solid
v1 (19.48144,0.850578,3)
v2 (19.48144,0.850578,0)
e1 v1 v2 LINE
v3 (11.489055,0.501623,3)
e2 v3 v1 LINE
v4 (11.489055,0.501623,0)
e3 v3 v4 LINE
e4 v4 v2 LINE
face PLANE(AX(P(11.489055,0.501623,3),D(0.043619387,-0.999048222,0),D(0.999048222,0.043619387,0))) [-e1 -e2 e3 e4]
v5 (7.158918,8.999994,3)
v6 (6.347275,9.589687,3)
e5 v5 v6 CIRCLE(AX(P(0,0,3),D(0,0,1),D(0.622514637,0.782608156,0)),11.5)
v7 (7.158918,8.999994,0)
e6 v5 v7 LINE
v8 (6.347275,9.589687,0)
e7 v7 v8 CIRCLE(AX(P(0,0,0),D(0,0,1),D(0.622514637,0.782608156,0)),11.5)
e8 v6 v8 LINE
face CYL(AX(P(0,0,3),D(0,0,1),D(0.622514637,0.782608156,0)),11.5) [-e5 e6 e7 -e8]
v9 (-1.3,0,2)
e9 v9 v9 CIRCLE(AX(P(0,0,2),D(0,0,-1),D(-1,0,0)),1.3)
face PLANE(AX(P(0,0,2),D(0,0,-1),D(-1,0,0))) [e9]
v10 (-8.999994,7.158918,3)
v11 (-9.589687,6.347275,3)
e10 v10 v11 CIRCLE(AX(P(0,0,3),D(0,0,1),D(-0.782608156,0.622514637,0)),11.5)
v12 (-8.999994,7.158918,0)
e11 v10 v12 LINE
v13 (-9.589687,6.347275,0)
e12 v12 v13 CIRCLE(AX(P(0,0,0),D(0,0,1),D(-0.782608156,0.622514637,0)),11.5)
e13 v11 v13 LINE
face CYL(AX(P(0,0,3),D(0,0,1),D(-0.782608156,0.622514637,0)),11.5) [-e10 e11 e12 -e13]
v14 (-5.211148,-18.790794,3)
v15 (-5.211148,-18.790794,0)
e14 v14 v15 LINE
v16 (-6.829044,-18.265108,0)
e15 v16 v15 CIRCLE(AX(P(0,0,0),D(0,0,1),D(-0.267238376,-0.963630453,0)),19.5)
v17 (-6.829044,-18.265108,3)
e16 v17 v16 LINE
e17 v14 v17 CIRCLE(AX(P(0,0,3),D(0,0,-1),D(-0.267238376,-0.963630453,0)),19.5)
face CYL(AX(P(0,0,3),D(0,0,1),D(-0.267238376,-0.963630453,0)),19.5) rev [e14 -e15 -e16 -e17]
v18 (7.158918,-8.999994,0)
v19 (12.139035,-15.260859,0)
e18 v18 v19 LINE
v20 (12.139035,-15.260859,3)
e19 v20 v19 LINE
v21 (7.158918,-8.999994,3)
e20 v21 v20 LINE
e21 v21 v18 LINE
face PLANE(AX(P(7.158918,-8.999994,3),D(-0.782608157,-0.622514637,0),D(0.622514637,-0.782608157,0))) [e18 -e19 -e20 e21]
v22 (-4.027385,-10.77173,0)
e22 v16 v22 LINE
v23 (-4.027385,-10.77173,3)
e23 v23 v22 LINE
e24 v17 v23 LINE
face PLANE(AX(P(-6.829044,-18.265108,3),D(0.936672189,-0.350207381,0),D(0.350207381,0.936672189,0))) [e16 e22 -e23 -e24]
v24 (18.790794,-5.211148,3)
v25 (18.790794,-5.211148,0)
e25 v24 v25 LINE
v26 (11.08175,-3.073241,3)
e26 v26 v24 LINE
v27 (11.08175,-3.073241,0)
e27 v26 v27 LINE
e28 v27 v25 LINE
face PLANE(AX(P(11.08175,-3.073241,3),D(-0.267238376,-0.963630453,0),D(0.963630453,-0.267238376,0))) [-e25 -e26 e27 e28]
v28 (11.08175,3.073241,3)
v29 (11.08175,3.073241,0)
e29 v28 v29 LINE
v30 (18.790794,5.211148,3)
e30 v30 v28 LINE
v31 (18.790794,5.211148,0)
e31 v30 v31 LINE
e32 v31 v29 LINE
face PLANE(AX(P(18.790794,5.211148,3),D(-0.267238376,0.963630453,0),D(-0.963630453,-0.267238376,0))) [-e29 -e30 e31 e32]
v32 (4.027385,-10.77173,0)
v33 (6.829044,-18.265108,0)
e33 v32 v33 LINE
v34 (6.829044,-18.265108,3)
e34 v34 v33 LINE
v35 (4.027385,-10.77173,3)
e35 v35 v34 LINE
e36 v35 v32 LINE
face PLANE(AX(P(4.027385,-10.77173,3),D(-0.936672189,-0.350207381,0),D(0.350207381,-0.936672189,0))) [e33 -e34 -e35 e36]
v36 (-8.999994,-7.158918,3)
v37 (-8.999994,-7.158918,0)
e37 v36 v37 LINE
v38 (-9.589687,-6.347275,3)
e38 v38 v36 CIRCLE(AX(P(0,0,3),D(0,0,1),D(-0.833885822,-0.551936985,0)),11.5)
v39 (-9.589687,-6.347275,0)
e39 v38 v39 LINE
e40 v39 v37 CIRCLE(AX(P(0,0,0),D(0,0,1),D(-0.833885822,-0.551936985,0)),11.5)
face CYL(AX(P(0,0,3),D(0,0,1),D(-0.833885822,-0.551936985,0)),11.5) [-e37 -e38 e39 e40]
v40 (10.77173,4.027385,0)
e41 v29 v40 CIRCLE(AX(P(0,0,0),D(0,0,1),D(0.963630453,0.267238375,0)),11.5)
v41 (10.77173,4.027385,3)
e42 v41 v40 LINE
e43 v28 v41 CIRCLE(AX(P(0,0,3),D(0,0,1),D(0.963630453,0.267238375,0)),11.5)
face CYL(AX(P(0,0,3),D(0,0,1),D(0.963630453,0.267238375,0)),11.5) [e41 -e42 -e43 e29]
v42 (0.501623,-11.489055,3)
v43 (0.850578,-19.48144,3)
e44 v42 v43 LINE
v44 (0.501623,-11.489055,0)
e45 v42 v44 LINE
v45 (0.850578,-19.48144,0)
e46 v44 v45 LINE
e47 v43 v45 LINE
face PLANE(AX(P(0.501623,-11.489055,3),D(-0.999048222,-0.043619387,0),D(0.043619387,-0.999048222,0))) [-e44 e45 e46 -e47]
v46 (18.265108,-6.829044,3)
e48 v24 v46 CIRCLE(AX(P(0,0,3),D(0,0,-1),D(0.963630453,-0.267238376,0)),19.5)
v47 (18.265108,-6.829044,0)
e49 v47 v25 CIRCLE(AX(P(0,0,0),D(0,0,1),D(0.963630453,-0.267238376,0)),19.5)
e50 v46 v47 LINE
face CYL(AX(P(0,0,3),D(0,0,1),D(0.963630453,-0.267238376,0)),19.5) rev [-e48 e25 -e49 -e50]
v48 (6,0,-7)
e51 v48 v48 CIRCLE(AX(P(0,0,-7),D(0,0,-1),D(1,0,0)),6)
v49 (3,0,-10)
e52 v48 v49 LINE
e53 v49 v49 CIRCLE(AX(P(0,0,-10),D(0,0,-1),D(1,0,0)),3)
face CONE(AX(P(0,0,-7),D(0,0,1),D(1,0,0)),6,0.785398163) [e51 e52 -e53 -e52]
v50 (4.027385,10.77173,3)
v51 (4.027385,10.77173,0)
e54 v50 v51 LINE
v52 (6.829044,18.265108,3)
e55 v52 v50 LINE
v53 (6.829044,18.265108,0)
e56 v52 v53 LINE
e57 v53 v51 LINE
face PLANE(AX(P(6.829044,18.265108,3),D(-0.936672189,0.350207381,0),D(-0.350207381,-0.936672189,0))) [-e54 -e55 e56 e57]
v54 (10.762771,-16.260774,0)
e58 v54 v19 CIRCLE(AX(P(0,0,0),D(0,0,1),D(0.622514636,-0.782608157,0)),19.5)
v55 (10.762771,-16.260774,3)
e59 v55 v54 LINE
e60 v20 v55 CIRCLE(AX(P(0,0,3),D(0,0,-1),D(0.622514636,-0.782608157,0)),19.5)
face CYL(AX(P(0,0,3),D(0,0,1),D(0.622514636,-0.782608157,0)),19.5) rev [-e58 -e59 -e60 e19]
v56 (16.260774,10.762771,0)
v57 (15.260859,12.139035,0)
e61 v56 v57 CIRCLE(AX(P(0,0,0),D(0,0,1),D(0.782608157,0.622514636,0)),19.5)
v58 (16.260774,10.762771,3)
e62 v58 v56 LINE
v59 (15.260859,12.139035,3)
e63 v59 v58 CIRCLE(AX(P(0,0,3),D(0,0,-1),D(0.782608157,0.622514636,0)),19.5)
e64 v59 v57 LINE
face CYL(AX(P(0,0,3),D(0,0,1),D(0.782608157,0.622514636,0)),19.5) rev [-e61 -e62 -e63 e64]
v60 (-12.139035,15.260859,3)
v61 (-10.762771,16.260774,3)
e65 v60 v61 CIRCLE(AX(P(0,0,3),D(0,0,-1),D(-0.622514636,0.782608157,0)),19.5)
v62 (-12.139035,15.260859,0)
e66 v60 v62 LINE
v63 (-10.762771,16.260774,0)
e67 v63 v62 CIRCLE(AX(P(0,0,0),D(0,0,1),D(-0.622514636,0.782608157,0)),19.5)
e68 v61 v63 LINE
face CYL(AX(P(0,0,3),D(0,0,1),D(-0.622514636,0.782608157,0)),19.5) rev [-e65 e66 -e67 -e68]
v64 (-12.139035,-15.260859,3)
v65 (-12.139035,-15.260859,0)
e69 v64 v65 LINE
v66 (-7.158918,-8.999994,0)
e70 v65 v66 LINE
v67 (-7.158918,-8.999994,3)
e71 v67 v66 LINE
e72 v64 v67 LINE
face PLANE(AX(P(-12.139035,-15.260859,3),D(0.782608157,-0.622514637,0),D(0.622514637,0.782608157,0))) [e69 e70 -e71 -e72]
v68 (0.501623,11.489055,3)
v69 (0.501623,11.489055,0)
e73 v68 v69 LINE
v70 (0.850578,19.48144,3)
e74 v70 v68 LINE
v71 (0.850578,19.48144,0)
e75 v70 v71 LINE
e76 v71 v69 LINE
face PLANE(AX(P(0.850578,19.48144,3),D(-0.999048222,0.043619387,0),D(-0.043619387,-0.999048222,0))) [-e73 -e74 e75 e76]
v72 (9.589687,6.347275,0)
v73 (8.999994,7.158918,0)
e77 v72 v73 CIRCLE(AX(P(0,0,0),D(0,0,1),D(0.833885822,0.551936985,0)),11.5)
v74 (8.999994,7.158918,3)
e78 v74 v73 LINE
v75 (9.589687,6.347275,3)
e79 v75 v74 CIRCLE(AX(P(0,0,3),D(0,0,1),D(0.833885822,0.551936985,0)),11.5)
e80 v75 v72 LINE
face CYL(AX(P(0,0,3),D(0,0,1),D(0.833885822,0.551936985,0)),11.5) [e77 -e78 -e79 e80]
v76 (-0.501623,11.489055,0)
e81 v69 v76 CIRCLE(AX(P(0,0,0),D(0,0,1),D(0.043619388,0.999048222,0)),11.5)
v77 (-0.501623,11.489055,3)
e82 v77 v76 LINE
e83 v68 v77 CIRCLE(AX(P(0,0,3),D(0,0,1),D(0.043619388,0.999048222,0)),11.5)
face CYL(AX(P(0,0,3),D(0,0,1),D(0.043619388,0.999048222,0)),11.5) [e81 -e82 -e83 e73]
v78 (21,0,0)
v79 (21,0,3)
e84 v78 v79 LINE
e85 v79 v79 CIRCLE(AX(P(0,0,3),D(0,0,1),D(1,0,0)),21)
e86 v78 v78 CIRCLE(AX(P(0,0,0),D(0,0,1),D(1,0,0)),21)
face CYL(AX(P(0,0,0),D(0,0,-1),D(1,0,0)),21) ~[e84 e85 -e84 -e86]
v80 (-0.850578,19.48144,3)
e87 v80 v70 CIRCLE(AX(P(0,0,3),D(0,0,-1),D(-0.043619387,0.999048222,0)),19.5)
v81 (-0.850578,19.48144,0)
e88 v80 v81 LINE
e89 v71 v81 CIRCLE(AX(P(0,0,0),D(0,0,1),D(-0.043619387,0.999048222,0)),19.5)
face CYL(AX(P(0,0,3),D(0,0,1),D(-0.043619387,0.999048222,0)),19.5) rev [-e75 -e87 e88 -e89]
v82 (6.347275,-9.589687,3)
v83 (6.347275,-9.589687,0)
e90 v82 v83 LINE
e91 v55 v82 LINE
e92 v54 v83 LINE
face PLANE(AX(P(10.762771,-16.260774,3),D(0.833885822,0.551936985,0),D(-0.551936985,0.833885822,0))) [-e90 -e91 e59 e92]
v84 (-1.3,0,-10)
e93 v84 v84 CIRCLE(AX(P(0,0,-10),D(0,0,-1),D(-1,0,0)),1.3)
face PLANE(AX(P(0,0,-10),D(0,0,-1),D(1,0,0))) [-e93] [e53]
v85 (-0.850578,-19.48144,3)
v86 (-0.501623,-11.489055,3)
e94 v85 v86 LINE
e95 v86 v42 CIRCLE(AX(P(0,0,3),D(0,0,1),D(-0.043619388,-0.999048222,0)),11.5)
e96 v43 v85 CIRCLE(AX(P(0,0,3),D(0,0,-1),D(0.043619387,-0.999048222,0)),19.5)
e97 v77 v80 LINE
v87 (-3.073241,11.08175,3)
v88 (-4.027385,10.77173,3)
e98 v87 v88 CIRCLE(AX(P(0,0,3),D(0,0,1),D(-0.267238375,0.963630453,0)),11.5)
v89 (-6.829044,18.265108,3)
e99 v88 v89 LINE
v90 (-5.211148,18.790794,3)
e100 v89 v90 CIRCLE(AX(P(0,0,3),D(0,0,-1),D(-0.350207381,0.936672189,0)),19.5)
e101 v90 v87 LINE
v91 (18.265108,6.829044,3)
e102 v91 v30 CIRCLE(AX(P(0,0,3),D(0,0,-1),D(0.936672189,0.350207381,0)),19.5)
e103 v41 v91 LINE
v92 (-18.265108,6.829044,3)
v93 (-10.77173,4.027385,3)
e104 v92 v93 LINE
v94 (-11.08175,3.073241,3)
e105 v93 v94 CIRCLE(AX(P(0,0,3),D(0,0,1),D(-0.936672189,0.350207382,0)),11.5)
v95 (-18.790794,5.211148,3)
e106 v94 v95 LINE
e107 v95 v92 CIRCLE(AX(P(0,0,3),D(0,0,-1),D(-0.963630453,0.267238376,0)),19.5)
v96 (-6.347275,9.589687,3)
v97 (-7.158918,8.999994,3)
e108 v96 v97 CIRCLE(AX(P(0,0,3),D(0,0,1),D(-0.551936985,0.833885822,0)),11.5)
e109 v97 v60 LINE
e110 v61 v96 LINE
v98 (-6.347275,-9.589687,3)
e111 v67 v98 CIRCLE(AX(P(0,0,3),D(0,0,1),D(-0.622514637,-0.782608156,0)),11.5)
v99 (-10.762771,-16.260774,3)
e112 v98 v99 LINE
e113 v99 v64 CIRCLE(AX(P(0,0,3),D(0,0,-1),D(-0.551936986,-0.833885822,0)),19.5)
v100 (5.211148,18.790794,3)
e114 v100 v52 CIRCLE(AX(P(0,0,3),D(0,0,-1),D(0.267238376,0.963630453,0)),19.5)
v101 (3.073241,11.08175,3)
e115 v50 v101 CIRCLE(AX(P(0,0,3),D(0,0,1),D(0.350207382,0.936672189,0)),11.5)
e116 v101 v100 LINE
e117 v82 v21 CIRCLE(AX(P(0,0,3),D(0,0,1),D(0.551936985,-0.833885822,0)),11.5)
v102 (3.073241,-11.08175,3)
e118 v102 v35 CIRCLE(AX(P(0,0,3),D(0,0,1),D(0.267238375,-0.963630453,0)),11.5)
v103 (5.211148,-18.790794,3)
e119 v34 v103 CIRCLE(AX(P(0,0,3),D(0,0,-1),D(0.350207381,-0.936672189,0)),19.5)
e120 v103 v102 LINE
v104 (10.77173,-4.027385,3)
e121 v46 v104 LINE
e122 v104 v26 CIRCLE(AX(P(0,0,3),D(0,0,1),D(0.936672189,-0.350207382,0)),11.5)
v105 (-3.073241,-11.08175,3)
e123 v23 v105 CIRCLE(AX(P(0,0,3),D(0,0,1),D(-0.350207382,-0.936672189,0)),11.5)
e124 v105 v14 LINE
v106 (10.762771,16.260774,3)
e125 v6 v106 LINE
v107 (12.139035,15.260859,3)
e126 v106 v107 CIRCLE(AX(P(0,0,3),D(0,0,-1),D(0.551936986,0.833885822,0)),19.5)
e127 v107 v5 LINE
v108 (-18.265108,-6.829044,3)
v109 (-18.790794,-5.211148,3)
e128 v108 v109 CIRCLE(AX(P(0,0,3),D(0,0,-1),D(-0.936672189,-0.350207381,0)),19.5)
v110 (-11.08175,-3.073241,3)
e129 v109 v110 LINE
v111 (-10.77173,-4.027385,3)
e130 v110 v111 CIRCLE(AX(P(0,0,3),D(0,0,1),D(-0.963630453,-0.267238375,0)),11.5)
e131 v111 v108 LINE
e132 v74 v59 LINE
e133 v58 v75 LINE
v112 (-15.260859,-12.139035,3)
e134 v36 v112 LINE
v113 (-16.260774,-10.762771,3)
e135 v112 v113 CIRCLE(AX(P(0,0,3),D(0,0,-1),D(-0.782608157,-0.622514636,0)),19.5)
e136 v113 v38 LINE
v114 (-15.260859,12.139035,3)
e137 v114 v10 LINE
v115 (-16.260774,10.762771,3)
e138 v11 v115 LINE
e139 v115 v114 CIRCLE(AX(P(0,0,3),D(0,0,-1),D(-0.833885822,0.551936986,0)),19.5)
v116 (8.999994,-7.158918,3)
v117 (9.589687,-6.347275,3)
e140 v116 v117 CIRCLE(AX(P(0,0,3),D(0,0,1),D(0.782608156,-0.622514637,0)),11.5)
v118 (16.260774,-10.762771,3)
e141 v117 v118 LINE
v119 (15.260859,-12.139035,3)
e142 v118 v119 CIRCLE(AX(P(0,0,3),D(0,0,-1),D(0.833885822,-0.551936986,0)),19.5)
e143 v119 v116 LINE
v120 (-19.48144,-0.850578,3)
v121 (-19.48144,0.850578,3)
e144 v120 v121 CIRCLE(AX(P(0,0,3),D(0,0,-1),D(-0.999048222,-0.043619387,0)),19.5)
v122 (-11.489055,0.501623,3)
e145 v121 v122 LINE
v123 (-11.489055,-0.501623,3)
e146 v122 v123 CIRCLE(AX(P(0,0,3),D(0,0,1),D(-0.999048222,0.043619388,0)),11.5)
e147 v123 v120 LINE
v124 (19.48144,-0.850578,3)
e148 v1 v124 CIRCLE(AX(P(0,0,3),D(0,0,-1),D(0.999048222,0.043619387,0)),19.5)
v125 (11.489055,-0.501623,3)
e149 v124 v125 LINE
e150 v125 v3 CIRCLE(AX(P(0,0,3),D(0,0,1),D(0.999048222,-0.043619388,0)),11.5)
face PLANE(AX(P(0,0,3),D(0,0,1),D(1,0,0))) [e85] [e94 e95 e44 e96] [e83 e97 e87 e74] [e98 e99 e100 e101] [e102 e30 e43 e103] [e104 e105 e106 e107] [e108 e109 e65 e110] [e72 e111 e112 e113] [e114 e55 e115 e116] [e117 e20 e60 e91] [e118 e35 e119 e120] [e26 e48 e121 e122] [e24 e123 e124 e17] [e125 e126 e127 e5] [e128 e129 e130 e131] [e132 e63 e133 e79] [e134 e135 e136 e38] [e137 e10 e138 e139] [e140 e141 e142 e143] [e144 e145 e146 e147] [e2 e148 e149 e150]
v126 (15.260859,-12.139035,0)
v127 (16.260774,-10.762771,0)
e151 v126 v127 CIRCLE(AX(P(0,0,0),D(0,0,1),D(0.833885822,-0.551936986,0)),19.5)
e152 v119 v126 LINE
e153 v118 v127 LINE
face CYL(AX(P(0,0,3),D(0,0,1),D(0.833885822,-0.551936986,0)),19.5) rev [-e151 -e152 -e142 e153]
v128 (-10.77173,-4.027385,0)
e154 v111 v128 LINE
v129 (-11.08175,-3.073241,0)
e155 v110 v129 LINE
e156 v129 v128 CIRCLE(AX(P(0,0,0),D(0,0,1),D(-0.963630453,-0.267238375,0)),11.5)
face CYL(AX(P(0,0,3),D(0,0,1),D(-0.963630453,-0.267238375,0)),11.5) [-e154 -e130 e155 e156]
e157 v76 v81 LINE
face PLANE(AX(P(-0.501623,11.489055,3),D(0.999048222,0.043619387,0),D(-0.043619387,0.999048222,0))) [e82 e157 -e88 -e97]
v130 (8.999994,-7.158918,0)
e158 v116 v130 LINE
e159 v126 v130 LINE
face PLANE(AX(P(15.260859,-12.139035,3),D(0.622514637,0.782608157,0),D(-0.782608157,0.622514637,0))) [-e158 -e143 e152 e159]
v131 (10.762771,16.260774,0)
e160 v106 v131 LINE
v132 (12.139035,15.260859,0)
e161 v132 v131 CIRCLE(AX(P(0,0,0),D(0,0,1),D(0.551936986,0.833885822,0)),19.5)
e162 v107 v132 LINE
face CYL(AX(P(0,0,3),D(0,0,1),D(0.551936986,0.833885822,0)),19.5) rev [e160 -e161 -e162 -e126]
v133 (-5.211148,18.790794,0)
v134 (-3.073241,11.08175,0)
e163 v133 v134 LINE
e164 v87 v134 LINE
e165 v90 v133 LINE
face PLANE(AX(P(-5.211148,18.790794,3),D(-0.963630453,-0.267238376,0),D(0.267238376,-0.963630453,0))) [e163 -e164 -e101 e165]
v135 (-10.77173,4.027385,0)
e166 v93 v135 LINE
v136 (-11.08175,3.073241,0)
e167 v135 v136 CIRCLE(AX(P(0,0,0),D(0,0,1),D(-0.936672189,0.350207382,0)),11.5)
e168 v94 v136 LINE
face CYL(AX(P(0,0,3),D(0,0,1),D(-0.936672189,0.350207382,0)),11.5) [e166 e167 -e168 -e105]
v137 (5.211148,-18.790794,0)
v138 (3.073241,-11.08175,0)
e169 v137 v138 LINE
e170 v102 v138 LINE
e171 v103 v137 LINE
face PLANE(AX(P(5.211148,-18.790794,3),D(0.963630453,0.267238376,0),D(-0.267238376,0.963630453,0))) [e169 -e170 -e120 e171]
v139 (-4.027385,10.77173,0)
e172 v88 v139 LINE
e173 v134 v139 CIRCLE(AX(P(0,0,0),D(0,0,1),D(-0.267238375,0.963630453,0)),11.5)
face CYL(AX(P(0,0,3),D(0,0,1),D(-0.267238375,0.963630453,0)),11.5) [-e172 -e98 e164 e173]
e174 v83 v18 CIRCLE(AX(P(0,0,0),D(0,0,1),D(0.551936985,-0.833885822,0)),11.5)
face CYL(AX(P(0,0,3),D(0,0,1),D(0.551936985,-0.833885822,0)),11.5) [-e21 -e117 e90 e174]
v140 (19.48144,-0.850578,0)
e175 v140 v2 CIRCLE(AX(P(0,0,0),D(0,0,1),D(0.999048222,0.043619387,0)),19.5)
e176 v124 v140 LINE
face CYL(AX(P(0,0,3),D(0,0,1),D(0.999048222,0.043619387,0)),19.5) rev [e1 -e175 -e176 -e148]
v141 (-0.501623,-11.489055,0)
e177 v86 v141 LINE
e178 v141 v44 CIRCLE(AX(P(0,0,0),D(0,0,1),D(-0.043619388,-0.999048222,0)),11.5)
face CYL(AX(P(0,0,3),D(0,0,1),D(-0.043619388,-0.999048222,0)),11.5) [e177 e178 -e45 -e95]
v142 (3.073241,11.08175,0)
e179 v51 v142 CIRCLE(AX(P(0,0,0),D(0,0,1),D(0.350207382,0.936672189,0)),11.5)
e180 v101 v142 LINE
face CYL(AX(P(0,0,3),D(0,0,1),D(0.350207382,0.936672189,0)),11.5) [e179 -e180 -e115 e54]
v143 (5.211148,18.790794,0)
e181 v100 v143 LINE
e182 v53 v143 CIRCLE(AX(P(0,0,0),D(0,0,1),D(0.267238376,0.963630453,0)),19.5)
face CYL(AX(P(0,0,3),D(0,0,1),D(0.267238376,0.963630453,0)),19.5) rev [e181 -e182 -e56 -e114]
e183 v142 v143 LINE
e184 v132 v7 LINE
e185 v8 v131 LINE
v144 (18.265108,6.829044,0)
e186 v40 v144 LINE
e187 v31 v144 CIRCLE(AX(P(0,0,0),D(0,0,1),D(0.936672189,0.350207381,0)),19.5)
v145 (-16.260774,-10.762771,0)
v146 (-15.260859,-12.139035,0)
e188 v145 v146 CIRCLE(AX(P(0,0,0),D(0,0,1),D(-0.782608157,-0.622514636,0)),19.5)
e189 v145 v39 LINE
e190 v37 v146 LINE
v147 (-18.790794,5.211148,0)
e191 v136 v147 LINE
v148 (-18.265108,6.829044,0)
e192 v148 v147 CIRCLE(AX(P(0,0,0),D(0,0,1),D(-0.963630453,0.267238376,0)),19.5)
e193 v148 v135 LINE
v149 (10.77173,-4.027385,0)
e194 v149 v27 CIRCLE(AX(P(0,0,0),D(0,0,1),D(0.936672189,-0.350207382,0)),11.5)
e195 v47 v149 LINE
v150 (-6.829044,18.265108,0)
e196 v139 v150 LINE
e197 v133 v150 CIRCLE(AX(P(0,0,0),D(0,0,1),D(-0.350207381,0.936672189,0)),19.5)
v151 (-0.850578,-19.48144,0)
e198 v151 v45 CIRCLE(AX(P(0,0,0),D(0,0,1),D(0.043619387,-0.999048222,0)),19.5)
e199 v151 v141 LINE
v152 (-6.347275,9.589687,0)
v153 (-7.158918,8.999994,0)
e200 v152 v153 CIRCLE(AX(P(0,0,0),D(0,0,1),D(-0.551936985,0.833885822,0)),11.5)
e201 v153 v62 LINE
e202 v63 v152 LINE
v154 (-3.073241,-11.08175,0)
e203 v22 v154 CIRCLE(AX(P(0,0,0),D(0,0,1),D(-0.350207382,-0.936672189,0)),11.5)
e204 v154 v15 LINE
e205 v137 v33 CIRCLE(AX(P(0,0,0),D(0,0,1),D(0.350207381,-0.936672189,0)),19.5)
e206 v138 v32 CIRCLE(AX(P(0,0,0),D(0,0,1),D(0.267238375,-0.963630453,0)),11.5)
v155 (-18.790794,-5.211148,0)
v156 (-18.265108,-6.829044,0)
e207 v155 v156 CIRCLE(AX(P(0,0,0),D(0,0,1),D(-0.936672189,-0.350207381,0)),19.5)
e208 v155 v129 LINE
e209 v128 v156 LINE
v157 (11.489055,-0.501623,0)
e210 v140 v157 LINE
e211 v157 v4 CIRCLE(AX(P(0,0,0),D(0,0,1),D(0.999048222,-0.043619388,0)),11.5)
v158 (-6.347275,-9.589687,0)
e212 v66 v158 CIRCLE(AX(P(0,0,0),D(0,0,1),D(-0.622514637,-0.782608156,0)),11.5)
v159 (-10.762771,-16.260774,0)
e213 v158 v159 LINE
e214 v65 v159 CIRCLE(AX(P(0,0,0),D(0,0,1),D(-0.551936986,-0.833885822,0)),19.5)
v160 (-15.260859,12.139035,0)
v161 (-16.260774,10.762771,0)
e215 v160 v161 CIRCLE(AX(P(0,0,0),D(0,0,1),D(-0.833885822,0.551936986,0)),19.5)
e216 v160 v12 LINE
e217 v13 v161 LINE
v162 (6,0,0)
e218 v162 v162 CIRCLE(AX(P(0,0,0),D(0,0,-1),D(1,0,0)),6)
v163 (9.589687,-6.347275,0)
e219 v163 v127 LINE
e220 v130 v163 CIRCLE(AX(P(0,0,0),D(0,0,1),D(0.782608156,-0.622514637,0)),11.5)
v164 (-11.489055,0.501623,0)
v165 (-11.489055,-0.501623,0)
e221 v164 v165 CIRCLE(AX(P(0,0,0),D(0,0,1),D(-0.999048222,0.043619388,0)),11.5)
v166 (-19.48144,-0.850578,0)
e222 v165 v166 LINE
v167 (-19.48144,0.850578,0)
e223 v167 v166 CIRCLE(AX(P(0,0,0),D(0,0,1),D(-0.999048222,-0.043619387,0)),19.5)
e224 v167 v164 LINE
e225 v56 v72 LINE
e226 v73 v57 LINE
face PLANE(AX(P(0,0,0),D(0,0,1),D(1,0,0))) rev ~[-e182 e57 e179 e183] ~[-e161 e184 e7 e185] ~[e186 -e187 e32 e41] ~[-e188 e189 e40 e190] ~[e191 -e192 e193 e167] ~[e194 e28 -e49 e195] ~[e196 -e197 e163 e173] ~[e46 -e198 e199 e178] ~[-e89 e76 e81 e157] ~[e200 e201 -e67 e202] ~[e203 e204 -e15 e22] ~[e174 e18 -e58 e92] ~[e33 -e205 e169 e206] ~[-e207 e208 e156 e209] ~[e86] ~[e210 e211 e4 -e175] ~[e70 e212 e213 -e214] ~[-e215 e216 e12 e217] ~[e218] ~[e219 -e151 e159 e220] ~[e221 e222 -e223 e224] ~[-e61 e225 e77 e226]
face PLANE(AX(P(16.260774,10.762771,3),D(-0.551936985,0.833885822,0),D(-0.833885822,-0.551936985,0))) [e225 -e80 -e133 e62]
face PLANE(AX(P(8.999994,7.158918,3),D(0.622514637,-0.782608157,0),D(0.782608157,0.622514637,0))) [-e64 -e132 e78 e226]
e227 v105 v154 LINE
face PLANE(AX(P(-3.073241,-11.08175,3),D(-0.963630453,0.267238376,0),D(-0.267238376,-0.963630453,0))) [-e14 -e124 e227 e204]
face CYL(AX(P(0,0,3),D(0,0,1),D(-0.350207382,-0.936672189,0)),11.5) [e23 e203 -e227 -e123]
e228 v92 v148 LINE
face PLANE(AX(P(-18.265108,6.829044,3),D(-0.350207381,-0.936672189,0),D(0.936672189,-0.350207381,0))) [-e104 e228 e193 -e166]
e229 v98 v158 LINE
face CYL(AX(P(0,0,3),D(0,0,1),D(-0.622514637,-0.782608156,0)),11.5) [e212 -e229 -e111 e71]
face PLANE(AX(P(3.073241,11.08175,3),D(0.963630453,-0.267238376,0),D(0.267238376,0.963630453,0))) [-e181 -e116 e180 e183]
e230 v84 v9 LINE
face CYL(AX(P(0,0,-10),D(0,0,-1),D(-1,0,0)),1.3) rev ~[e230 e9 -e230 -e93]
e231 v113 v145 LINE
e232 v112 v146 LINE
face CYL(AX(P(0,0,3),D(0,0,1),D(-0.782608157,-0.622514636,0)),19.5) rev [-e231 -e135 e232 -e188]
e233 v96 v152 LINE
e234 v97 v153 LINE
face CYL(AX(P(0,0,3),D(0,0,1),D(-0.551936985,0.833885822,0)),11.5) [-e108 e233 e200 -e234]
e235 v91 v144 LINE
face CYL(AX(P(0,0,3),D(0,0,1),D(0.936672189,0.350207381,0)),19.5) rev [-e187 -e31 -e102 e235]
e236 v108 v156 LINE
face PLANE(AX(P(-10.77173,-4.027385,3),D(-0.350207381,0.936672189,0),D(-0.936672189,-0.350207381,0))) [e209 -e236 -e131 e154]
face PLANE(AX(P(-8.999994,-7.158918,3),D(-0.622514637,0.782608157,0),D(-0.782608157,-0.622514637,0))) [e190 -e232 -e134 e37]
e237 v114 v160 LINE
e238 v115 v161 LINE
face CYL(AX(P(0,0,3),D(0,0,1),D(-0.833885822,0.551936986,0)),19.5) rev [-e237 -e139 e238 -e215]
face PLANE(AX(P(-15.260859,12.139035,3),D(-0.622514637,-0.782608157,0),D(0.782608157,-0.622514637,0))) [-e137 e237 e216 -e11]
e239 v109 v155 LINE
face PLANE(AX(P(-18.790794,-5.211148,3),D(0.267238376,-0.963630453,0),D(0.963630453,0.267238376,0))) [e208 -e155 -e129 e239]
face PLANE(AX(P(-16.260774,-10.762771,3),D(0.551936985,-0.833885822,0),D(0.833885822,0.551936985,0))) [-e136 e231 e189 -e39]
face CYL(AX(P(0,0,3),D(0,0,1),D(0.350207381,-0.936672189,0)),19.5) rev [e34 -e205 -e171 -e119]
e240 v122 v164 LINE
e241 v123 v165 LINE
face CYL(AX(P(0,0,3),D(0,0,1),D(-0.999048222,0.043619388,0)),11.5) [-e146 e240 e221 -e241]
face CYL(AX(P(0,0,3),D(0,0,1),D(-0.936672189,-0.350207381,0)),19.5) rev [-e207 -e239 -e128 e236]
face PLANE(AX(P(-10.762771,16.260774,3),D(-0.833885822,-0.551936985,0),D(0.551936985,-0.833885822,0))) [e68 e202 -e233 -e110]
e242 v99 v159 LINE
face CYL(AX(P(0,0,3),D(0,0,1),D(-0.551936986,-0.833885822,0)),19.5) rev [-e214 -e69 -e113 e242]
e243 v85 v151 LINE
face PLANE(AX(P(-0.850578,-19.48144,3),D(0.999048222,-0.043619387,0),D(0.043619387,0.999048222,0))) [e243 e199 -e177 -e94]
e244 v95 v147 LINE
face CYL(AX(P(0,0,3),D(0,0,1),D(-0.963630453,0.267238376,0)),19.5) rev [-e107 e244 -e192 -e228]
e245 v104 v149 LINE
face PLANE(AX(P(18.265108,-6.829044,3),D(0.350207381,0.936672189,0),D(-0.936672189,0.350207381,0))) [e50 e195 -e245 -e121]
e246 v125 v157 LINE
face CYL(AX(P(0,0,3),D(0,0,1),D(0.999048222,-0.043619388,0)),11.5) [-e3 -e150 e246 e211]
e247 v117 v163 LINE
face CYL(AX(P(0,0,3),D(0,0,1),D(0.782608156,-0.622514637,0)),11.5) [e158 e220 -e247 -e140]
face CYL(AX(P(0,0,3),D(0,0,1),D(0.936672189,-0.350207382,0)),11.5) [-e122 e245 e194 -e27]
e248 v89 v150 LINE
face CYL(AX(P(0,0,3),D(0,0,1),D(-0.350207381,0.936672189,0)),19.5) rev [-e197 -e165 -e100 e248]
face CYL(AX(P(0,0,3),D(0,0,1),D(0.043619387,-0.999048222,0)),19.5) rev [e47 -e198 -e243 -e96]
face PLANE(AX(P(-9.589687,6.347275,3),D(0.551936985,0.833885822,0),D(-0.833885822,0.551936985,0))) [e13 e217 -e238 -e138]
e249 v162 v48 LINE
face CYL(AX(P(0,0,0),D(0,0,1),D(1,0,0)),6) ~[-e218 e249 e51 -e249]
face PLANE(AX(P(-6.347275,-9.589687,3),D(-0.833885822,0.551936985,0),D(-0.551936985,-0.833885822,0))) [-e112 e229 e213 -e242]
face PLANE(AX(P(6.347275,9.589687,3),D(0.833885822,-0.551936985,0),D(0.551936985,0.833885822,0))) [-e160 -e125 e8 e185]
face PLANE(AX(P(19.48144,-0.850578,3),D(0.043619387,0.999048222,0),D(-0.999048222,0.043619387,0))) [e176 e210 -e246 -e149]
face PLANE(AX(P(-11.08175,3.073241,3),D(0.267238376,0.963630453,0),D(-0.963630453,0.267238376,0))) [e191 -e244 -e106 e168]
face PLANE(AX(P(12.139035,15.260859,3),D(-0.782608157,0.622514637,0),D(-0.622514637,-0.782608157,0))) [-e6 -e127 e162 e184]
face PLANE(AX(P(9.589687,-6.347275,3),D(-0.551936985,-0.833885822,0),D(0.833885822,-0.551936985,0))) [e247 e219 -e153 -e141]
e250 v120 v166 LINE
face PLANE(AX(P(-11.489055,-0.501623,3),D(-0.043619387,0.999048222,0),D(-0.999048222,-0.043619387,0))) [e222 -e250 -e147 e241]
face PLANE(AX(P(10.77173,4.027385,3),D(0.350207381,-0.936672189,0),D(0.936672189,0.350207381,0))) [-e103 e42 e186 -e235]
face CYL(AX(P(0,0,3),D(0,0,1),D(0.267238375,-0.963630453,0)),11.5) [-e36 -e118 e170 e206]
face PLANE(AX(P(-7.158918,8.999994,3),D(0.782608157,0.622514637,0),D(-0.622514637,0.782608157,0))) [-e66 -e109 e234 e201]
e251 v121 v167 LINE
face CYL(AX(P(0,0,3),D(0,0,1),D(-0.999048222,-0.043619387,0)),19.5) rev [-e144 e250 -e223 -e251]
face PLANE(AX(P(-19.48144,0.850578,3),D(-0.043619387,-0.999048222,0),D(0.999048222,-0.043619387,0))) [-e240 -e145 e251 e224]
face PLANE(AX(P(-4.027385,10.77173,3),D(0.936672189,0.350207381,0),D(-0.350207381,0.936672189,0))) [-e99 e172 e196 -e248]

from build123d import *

# Parameters (mm, degrees)
ESBO_O1_R                = 21
RESSALTO_EXTRUS_O1_DEPTH = 3
CORTE_EXTRUS_O1_DEPTH    = 30.849623113
PADR_OCIRCULAR1_COUNT    = 20
ESBO_O7_R                = 6
RESSALTO_EXTRUS_O2_DEPTH = 10
CHANFRO1_SIZE            = 3
ESBO_O8_R                = 1.3
CORTE_EXTRUS_O3_DEPTH    = 12


with BuildPart() as part:
    # Esboço1 → Ressalto-extrusão1 (new body)
    with BuildSketch(Plane.XY):
        Circle(ESBO_O1_R)
    extrude(amount=RESSALTO_EXTRUS_O1_DEPTH)

    # Esboço5 → Corte-extrusão1 (cut, through all)
    with BuildSketch(Plane.XY.offset(3)):
        with BuildLine():
            Line((-0.501622955, 11.489054548), (-0.850578054, 19.481440321))
            ThreePointArc((-0.850578054, 19.481440321), (0, 19.5), (0.850578054, 19.481440321))
            Line((0.850578054, 19.481440321), (0.501622955, 11.489054548))
            ThreePointArc((0.501622955, 11.489054548), (0, 11.5), (-0.501622955, 11.489054548))
        make_face()
    corte_extrus_o1 = extrude(amount=-CORTE_EXTRUS_O1_DEPTH, mode=Mode.SUBTRACT)

    # PadrãoCircular1: Corte-extrusão1 ×20 about axis
    padr_ocircular1_axis = Axis((0, 0, 0), (0, 0, 1))
    for i in range(1, PADR_OCIRCULAR1_COUNT):
        add(corte_extrus_o1.rotate(padr_ocircular1_axis, i * 360 / PADR_OCIRCULAR1_COUNT), mode=Mode.SUBTRACT)

    # Esboço7 → Ressalto-extrusão2 (add)
    with BuildSketch(Plane(origin=(0, 0, 0), x_dir=(-1, 0, 0), z_dir=(0, 0, -1))):
        with Locations(Location((0, 0, 0), (0, 0, 180))):
            Circle(ESBO_O7_R)
    extrude(amount=RESSALTO_EXTRUS_O2_DEPTH)

    # Chanfro1
    chanfro1_edges = [part.edges().sort_by_distance(p)[0] for p in [
        (-6, 0, -10),
    ]]
    chamfer(chanfro1_edges, length=CHANFRO1_SIZE)

    # Esboço8 → Corte-extrusão3 (cut)
    with BuildSketch(Plane(origin=(0, 0, -10), x_dir=(-1, 0, 0), z_dir=(0, 0, -1))):
        Circle(ESBO_O8_R)
    extrude(amount=-CORTE_EXTRUS_O3_DEPTH, mode=Mode.SUBTRACT)


solid = part.part
